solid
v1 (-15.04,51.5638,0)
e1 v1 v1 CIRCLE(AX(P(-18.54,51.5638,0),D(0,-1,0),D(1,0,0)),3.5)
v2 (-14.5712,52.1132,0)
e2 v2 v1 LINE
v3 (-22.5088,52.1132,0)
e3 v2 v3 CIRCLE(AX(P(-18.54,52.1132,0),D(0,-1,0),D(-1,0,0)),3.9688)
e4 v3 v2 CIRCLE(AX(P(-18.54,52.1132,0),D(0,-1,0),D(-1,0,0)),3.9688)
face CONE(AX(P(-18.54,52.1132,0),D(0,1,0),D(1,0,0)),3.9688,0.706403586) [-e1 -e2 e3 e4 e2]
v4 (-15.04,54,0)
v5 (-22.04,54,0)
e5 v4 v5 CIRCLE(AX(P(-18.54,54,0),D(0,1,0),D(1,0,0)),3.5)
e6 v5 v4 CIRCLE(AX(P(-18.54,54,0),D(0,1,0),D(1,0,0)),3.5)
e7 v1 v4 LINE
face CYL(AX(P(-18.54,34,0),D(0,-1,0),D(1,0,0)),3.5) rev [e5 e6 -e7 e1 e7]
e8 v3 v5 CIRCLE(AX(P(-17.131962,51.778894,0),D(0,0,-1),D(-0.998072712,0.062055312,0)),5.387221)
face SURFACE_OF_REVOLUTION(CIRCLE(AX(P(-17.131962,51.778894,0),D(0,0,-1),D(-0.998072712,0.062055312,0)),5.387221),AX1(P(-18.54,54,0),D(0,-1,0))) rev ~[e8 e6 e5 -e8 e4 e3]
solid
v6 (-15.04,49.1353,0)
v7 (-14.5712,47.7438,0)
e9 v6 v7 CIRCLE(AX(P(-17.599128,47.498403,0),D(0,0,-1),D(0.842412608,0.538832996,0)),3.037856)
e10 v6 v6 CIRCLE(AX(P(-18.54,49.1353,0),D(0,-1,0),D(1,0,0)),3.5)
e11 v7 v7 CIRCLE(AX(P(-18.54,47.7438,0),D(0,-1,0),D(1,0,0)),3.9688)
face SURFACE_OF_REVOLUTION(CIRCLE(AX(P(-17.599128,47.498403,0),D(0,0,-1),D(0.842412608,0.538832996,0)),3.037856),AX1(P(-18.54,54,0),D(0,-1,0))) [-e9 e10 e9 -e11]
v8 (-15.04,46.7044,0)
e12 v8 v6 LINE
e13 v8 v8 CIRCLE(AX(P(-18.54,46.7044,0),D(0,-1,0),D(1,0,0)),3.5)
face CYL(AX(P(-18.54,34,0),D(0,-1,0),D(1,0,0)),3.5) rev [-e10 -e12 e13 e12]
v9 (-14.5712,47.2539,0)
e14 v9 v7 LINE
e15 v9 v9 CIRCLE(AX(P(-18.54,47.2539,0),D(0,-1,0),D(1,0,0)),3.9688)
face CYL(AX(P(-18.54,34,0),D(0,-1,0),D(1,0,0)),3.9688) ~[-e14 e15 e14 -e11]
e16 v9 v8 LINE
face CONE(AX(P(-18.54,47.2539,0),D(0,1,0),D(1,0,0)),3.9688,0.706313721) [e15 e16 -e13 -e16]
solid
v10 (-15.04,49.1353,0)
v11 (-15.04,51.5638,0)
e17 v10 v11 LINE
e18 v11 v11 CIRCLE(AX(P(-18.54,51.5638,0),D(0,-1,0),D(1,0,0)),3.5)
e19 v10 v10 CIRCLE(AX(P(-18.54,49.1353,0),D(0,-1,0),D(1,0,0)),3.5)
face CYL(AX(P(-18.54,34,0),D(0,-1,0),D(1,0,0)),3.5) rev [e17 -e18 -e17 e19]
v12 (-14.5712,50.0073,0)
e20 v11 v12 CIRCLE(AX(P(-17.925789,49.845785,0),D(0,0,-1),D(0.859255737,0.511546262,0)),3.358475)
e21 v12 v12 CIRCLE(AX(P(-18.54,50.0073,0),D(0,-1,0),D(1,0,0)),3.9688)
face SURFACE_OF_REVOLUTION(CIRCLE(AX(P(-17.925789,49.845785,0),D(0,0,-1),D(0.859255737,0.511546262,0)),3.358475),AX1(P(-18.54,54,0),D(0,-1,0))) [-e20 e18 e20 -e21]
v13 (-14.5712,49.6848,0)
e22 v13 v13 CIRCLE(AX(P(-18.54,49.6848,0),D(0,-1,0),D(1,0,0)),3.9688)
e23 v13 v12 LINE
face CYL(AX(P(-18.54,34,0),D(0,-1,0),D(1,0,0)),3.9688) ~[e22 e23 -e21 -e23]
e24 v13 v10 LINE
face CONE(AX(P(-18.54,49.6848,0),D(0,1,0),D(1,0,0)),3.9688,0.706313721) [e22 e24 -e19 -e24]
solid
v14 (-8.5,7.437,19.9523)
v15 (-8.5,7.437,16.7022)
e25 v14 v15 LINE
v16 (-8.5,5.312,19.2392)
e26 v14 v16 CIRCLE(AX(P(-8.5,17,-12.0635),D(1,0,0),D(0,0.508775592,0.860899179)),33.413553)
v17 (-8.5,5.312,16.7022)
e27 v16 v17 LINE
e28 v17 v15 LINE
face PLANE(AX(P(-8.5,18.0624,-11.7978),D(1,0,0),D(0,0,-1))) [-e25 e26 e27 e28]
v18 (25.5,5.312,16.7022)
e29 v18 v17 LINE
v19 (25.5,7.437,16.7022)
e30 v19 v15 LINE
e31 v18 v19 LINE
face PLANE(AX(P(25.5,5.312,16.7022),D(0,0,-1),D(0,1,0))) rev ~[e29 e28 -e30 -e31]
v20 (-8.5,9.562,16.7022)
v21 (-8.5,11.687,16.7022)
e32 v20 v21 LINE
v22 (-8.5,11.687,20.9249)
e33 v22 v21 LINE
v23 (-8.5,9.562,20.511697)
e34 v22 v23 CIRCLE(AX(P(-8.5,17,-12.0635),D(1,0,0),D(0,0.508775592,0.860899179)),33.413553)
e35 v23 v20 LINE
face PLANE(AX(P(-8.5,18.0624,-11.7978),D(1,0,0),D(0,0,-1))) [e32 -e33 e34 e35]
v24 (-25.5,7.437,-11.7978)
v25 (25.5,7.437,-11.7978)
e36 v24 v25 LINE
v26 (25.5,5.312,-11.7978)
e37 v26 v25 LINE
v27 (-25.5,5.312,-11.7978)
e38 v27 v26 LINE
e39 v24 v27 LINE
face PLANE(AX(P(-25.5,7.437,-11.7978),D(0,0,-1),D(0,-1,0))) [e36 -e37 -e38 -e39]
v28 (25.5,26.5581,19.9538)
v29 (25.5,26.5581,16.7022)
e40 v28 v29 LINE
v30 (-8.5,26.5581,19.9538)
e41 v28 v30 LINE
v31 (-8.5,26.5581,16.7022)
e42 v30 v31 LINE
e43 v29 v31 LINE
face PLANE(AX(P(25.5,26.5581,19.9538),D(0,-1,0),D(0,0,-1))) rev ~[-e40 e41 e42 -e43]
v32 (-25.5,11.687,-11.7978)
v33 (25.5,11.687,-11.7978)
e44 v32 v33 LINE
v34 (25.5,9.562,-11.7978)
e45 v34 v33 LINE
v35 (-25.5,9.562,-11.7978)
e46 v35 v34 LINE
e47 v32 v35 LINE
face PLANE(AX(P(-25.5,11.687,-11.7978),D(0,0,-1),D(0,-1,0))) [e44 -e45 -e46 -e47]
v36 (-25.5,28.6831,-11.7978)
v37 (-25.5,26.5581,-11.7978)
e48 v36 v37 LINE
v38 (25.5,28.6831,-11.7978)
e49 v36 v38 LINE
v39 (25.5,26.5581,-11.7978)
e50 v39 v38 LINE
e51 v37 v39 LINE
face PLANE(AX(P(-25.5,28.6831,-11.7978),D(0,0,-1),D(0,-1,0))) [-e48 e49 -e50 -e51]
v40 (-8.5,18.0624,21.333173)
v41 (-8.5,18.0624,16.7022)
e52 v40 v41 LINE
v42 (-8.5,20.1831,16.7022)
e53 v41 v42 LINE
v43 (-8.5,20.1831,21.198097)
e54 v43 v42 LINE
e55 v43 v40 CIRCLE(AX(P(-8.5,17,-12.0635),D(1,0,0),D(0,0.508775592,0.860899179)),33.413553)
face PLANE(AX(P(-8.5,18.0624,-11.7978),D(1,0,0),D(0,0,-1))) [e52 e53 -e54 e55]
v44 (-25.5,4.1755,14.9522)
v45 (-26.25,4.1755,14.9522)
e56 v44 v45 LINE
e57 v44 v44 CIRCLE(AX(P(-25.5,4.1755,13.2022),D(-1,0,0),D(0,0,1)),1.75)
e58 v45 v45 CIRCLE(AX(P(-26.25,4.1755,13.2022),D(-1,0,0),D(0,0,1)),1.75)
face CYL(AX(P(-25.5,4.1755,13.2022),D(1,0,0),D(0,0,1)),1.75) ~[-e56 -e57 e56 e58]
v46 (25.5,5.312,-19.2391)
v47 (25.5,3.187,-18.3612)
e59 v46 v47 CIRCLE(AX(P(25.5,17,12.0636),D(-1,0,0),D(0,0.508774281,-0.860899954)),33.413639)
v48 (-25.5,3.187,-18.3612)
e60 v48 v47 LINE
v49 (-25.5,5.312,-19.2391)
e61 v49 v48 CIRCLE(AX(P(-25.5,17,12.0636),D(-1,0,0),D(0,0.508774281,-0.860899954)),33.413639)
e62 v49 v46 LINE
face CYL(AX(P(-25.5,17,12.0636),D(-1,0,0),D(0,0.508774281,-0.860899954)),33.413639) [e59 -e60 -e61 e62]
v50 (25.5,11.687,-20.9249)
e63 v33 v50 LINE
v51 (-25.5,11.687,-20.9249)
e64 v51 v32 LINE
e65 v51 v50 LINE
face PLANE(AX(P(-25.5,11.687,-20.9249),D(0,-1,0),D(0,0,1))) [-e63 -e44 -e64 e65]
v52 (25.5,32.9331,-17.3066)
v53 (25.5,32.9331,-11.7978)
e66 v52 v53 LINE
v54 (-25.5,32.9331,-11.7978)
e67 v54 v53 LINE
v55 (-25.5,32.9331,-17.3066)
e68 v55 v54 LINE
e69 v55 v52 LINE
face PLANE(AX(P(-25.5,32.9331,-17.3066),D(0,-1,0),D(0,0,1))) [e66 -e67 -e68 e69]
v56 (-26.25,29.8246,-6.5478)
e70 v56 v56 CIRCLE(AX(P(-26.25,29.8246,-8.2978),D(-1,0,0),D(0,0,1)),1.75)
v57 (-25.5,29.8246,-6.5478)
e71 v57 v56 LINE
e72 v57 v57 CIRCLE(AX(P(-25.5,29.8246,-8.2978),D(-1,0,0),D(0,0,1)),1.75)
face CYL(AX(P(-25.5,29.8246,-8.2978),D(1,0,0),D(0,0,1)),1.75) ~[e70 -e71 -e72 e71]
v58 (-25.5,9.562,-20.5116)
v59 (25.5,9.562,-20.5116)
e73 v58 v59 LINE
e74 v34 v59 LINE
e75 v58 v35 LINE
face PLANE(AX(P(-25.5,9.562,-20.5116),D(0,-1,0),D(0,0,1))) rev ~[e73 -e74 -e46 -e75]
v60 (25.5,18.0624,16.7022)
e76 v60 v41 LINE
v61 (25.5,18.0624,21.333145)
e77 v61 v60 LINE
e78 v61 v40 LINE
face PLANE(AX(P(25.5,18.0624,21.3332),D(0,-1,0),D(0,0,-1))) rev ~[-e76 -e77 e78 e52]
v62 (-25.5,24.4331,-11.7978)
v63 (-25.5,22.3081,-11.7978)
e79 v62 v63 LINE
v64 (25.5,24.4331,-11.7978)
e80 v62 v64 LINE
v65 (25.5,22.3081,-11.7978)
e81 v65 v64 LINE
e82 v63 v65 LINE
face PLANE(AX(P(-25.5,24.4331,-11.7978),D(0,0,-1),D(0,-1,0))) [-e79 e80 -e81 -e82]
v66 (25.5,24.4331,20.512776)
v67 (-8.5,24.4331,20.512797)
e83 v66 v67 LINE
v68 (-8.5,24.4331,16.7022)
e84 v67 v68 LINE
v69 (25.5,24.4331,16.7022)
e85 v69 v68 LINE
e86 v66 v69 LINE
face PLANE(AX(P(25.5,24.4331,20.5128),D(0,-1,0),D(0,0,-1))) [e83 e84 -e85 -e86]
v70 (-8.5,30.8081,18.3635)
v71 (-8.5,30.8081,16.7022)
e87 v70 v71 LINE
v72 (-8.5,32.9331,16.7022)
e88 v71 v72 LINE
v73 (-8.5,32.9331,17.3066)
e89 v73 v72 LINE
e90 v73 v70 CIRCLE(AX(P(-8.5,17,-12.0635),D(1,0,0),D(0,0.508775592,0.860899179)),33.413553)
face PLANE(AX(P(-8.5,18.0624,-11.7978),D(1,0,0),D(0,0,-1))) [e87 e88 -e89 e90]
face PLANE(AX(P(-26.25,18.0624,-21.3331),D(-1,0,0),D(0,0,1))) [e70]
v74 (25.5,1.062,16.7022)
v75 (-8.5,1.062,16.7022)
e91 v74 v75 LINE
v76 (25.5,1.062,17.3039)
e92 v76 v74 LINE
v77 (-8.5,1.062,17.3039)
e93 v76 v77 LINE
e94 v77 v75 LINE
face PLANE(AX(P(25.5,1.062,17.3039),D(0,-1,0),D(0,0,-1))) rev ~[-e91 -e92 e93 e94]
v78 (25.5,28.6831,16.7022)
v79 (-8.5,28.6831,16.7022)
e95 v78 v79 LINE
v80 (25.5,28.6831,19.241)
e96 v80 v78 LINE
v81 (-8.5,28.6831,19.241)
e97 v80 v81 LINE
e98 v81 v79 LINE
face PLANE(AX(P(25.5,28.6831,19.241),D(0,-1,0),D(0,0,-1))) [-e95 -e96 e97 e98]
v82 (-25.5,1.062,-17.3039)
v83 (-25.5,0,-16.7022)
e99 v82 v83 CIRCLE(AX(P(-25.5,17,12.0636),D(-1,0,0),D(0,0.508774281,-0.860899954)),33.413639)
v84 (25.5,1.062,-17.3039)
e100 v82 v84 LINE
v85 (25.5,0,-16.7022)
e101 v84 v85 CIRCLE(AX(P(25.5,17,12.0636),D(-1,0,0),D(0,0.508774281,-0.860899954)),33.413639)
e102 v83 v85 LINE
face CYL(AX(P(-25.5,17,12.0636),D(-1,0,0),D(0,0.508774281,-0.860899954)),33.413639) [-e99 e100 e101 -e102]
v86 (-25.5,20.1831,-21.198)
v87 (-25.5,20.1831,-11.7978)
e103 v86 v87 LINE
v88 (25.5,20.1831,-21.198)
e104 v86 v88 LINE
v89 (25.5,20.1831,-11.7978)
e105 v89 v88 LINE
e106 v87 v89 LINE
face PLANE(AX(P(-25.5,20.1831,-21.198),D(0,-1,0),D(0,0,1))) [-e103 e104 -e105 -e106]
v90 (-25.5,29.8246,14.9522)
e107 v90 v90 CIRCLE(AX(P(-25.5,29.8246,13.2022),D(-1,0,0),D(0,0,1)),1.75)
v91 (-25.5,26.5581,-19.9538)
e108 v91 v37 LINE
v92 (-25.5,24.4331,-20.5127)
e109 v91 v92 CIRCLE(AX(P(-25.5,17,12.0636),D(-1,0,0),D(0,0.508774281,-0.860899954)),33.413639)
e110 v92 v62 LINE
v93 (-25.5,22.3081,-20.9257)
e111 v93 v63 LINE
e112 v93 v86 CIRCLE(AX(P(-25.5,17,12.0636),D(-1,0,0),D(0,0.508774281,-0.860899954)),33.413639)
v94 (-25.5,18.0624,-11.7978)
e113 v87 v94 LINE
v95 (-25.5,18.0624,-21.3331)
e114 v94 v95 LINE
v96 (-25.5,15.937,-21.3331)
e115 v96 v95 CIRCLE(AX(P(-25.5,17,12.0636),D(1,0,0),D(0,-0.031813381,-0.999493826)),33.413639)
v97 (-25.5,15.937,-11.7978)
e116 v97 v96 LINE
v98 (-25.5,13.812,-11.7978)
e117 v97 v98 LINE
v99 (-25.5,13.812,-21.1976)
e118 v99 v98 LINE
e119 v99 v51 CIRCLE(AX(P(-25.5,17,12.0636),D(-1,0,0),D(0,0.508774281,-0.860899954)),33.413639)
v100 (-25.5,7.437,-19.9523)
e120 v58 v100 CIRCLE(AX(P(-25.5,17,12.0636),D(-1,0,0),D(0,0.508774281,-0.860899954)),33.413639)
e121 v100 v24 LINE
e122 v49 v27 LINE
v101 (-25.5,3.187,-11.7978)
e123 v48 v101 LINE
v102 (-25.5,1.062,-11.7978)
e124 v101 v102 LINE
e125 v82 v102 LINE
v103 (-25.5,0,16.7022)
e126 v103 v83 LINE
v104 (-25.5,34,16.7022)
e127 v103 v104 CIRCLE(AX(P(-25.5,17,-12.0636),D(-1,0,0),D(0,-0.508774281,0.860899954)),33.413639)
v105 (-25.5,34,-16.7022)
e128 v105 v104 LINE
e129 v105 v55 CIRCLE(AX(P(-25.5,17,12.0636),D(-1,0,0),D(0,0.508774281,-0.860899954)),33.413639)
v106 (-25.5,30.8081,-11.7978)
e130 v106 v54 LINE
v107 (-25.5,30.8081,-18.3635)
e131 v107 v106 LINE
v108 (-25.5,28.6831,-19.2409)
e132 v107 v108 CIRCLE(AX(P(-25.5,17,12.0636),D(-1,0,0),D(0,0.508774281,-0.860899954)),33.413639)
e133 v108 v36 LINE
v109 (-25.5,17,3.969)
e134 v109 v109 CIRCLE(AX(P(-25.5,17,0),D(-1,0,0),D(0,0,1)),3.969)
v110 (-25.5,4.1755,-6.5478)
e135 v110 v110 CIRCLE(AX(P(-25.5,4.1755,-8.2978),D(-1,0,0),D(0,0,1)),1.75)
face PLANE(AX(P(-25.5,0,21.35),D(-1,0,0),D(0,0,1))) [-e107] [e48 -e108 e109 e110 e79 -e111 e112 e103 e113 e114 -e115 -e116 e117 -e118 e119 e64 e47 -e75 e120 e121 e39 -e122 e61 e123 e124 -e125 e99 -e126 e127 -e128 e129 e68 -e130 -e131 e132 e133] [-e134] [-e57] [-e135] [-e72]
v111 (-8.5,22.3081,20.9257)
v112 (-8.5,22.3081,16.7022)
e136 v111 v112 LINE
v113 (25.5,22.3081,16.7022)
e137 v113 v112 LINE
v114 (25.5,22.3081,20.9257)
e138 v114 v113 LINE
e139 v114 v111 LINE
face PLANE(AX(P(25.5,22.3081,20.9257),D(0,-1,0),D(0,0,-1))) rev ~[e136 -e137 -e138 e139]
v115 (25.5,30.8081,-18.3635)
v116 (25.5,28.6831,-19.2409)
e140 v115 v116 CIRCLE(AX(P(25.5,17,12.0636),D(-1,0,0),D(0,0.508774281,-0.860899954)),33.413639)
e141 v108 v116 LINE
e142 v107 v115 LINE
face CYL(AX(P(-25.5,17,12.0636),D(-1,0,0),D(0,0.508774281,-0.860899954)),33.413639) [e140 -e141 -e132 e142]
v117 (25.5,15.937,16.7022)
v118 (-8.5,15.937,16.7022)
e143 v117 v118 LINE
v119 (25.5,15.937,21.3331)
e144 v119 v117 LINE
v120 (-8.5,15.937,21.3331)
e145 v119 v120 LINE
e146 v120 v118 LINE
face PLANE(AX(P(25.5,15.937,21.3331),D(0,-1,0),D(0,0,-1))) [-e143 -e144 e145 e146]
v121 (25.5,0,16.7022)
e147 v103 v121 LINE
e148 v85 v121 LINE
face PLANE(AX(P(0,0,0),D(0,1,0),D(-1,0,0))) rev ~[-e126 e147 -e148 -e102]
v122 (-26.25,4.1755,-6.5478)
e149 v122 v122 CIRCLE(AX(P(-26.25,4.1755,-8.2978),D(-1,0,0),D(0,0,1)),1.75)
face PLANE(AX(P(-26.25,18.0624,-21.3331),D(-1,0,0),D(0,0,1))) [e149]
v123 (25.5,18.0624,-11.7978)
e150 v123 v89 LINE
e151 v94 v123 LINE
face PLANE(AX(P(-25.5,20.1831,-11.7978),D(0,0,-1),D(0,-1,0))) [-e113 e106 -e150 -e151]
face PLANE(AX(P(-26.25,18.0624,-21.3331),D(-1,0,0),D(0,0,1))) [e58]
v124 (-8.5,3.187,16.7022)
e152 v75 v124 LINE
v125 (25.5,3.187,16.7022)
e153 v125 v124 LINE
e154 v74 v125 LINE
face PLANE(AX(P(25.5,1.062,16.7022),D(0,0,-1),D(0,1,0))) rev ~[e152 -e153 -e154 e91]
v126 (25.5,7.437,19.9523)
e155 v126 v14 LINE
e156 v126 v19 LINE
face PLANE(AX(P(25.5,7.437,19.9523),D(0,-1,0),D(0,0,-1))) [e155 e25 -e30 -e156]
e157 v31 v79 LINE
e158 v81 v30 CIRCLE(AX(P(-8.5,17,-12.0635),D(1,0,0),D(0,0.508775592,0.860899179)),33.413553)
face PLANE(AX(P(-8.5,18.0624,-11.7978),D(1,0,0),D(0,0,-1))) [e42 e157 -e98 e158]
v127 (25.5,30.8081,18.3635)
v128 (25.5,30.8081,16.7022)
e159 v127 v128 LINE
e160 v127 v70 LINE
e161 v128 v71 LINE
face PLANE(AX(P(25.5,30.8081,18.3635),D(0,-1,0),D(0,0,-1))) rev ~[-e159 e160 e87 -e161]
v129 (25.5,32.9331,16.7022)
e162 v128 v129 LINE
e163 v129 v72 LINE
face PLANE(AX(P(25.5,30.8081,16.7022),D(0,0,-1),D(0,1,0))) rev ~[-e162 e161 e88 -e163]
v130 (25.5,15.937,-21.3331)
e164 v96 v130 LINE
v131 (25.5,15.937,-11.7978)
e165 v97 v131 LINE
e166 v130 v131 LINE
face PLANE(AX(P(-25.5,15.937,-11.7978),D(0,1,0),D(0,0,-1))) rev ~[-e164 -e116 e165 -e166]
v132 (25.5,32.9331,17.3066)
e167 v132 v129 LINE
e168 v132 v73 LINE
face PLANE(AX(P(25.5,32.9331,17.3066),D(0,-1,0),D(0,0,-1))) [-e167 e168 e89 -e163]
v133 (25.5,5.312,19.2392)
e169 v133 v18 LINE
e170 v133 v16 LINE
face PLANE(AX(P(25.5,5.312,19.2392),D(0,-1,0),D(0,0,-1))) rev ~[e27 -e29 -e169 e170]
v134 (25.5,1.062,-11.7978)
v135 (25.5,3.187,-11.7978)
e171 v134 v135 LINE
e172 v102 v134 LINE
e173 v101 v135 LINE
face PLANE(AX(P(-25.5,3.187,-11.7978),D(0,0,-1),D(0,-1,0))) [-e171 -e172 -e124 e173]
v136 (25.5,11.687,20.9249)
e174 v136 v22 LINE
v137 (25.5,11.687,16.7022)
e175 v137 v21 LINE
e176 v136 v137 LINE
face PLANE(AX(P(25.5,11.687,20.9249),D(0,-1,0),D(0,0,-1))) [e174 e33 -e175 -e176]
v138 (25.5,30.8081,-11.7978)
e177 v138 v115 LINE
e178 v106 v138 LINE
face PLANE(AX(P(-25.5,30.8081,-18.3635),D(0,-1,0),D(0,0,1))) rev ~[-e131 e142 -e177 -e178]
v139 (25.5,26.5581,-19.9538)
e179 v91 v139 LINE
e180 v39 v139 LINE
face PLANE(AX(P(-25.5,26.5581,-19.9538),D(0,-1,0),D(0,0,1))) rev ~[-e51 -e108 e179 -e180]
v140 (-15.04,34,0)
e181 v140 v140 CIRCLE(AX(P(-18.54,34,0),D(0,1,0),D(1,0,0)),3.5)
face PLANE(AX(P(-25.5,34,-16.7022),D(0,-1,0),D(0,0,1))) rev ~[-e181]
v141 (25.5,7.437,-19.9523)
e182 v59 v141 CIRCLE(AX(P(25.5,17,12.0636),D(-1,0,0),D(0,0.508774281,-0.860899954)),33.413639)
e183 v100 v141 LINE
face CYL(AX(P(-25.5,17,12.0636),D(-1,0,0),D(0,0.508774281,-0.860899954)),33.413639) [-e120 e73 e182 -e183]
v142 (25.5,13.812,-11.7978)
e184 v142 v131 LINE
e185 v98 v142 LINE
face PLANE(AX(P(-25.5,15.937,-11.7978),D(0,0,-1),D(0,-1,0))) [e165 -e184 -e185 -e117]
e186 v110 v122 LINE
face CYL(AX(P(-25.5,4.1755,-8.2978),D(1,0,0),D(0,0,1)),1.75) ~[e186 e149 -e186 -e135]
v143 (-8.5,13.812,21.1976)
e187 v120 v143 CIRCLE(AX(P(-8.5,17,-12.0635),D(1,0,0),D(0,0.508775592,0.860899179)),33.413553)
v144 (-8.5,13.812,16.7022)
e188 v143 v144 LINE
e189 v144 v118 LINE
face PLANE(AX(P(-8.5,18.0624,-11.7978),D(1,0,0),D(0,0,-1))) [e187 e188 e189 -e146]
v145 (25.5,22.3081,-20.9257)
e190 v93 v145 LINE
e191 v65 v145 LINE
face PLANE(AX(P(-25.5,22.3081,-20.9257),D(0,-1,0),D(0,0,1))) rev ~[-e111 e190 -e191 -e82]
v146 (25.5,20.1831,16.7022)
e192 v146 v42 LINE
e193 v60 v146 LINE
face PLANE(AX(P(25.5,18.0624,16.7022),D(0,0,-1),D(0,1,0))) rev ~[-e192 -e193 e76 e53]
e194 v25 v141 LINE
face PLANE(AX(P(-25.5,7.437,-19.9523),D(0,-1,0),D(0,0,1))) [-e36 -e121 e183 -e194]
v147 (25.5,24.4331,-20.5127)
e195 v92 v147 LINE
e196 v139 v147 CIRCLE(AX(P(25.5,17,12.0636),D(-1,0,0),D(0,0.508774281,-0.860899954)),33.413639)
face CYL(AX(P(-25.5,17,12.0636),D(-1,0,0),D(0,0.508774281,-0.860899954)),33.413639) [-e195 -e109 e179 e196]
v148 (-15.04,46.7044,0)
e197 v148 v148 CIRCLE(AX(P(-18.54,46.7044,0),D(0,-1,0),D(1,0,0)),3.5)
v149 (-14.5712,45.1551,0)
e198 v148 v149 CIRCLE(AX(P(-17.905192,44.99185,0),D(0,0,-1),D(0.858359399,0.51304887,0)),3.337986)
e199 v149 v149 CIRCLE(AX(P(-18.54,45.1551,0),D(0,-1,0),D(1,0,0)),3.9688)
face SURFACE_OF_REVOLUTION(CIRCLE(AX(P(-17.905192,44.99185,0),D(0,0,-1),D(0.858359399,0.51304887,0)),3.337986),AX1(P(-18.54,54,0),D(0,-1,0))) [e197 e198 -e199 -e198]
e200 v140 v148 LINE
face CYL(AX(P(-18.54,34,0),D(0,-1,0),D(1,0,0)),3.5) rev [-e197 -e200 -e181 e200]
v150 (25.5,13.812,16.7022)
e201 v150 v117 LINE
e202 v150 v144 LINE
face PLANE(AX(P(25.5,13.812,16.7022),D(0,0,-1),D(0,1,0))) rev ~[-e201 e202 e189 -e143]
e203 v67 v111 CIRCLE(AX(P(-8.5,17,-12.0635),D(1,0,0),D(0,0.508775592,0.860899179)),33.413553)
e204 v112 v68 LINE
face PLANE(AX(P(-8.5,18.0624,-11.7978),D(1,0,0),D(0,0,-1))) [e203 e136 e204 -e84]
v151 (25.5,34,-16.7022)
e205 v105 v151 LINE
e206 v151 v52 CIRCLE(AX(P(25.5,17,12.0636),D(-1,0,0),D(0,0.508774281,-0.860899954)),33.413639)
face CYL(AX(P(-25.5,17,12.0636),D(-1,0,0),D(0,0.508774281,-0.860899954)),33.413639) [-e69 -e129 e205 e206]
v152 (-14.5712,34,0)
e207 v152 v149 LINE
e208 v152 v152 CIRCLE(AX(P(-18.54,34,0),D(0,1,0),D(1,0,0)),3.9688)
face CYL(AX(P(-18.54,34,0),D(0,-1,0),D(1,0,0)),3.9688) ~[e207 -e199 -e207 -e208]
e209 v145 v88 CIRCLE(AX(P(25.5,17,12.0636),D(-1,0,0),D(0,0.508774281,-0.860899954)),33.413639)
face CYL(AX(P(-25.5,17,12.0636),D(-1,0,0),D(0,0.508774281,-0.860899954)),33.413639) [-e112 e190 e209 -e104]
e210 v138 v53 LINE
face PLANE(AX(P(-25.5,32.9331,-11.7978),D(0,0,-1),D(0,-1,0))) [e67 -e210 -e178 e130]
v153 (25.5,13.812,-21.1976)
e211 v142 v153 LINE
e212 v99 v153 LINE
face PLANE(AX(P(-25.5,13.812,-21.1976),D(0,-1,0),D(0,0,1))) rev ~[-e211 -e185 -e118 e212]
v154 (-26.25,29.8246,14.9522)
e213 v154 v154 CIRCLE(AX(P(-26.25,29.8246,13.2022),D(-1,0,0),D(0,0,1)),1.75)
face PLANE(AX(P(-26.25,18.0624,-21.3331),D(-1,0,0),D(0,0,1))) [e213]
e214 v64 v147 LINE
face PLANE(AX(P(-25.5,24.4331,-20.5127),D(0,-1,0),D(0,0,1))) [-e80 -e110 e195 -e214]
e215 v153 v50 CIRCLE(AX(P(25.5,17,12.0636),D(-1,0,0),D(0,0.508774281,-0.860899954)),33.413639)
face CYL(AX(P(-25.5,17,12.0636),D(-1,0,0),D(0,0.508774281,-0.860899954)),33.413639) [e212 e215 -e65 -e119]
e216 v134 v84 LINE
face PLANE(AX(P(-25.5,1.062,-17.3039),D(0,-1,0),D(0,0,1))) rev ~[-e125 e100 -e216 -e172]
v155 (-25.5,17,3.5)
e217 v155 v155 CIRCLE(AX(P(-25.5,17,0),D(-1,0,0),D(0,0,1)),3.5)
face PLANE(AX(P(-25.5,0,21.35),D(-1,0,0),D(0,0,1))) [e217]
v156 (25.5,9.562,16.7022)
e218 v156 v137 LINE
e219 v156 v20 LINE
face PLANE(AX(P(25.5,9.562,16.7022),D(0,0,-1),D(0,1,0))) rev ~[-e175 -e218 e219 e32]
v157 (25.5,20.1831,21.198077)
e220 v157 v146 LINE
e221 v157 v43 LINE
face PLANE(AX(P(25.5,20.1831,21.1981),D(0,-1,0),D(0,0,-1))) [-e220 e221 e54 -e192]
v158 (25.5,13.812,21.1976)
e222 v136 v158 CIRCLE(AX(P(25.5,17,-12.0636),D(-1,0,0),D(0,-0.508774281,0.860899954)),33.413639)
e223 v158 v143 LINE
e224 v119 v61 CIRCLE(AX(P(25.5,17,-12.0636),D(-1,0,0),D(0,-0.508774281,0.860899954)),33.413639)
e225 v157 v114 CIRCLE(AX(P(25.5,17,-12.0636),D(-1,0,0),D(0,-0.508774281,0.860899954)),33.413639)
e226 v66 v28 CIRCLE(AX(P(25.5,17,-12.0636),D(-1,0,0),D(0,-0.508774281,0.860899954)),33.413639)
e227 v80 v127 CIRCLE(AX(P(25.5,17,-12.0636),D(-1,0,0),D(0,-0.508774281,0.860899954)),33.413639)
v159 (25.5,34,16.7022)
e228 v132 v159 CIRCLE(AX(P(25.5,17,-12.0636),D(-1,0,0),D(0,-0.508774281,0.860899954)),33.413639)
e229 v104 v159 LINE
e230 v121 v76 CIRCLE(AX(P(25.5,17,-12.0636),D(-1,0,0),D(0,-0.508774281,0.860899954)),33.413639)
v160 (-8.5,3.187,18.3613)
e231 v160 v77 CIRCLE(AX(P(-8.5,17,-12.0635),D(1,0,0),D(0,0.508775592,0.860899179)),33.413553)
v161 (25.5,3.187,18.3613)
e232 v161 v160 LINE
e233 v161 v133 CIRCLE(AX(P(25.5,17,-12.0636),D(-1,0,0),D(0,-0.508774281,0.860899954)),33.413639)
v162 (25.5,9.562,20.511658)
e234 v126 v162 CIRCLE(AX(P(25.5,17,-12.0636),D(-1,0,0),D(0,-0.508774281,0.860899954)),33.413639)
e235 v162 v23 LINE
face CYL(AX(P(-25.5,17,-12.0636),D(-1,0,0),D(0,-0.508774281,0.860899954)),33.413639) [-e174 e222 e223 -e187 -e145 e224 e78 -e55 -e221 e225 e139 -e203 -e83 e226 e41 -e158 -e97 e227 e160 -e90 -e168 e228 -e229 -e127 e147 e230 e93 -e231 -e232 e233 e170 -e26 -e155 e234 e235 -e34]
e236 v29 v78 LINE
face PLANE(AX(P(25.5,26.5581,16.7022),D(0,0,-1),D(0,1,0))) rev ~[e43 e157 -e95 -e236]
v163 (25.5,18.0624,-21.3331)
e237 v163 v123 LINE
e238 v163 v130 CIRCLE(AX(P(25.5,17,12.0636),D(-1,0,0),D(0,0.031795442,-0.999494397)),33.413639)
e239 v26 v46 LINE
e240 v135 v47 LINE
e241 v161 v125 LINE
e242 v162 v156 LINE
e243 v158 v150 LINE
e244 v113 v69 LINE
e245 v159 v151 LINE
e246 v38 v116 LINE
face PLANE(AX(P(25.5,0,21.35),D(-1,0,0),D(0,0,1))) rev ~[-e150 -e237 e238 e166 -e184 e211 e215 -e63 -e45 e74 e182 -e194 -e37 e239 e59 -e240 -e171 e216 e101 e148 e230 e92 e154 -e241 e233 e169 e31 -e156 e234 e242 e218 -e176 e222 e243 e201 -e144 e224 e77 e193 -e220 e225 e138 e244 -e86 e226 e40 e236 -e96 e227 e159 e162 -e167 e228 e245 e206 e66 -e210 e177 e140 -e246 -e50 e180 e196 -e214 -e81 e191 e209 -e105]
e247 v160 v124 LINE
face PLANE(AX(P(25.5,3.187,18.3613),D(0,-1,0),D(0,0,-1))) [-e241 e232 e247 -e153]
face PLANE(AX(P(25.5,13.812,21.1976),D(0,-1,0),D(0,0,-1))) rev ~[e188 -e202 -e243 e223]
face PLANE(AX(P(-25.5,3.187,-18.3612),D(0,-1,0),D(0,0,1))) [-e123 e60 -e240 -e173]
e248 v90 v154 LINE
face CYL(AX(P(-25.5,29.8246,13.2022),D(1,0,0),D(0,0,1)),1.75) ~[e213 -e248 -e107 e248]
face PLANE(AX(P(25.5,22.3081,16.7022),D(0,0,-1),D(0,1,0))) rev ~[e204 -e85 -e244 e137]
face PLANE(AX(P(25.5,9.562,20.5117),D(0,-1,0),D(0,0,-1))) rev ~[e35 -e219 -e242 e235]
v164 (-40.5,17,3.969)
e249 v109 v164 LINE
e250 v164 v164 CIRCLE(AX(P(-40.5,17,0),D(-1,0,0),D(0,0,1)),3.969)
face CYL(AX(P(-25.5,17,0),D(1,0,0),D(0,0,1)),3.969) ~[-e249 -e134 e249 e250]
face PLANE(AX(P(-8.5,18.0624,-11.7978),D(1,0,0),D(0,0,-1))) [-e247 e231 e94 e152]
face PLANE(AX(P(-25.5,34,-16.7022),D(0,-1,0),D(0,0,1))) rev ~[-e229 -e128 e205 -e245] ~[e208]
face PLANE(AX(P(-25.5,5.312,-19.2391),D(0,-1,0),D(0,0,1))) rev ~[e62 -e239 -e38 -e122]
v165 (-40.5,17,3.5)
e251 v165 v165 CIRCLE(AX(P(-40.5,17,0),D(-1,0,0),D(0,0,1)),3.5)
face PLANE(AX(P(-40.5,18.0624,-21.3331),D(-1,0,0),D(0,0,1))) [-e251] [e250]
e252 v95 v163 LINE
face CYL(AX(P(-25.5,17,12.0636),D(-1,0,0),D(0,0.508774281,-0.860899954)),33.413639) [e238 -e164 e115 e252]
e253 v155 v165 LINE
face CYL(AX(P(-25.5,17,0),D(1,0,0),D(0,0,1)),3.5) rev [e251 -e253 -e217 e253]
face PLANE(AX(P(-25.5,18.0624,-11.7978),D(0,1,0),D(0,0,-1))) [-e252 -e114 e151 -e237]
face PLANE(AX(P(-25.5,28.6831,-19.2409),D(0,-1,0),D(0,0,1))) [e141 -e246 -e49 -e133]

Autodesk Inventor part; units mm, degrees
ref_plane "YZ Plane" through (0, 0, 0) normal (1, 0, 0) x (0, 1, 0)
ref_plane "XZ Plane" through (0, 0, 0) normal (0, 1, 0) x (-1, 0, 0)
sketch "Sketch1" plane through (0, 0, 0) normal (0, 1, 0) x (-1, 0, 0)
  line L0 (25.5, -21.35) -> (-25.5, -21.35)
  line L1 (-25.5, -21.35) -> (-25.5, 21.35)
  line L2 (-25.5, 21.35) -> (25.5, 21.35)
  line L3 (25.5, 21.35) -> (25.5, -21.35)
  line L4 (25.5, -21.35) -> (-25.5, 21.35) construction
  line L5 (-25.5, -21.35) -> (25.5, 21.35) construction
  point P0 (0, 0)
  dimension "d0" = 51
  dimension "d1" = 42.7
extrude "Extrusion1" add sketch "Sketch1" along normal blind 34
sketch "Sketch2" plane through (-25.5, 0, -21.35) normal (-1, 0, 0) x (0, 0, 1)
  line L0 (42.7, 0) -> (0, 0) projected
  line L1 (42.7, 0) -> (42.7, 34) projected
  line L2 (0, 34) -> (42.7, 34) projected
  line L3 (0, 0) -> (0, 34) projected
  arc A0 (38.0522, 0) -> (38.0522, 34) centre (9.2864, 17) ccw
  line L4 (0, 34) -> (42.7, 34) construction
  line L5 (21.35, 34) -> (21.35, 0) construction
  arc A1 (4.6478, 34) -> (4.6478, 0) centre (33.4136, 17) ccw
  line L6 (0, 17) -> (42.7, 17) construction
  line L7 (42.7, 0) -> (0, 0) construction
  line L8 (9.5522, 34) -> (9.5522, 0) construction
  line L9 (9.5522, 34) -> (9.5522, 0)
  line L10 (0, 0) -> (0, 34) construction
  line L11 (0.0169, 18.0624) -> (9.5522, 18.0624) construction
  line L12 (9.5522, 15.937) -> (0, 15.937) construction
  line L13 (9.5522, 18.0624) -> (0.0169, 18.0624)
  line L14 (9.5522, 15.937) -> (0.0169, 15.937)
  line L15 (0.152, 20.1831) -> (9.5522, 20.1831)
  line L16 (0.4243, 22.3081) -> (9.5522, 22.3081)
  line L17 (0.8373, 24.4331) -> (9.5522, 24.4331)
  line L18 (1.3962, 26.5581) -> (9.5522, 26.5581)
  line L19 (2.1091, 28.6831) -> (9.5522, 28.6831)
  line L20 (2.9865, 30.8081) -> (9.5522, 30.8081)
  line L21 (4.0434, 32.9331) -> (9.5522, 32.9331)
  line L22 (0.1524, 13.812) -> (9.5522, 13.812)
  line L23 (0.4251, 11.687) -> (9.5522, 11.687)
  line L24 (0.8384, 9.562) -> (9.5522, 9.562)
  line L25 (1.3977, 7.437) -> (9.5522, 7.437)
  line L26 (2.1109, 5.312) -> (9.5522, 5.312)
  line L27 (2.9888, 3.187) -> (9.5522, 3.187)
  line L28 (4.0461, 1.062) -> (9.5522, 1.062)
  line L29 (9.5522, 34) -> (0, 34)
  line L30 (0, 34) -> (0, 0)
  line L31 (0, 0) -> (4.6478, 0)
  line L32 (42.7, 0) -> (42.7, 34) projected
  line L33 (42.7, 0) -> (42.7, 34)
  line L34 (42.7, 34) -> (9.5522, 34)
  line L35 (42.7, 0) -> (0, 0)
  line L36 (4.6478, 34) -> (4.0434, 32.9331)
  dimension "d4" = 28.5
  dimension "d5" = 1.0625
  dimension "d6" = 1.063
  dimension "d7" = 2.125
  dimension "d8" = 2.125
  dimension "d9" = 2.125
  dimension "d10" = 2.125
  dimension "d11" = 2.125
  dimension "d12" = 2.125
  dimension "d13" = 2.125
  dimension "d14" = 2.125
  dimension "d15" = 2.125
  dimension "d16" = 2.125
  dimension "d17" = 2.125
  dimension "d18" = 2.125
  dimension "d19" = 2.125
  dimension "d20" = 2.125
  dimension "d21" = 1.062
  dimension "d22" = 1.0669
extrude "Extrusion2" cut sketch "Sketch2" against normal through all contours L0 L3 A1 | L28 A1 L27 L9 | L9 L21 L36 L2 | A1 L3 L2 | L9 L20 A1 L21 | L26 A1 L25 L9 | A1 L15 L9 L13 | L14 L9 L22 A1 | L9 L18 A1 L19 | L24 A1 L23 L9 | A1 L17 L9 L16
sketch "Sketch3" plane through (-25.5, 0, 21.35) normal (-1, 0, 0) x (0, 0, 1)
  line L0 (-38.6566, 32.9331) -> (-33.1478, 32.9331)
  line L1 (-33.1478, 34) -> (-33.1478, 30.8081) projected
  line L2 (0, 34) -> (-33.1478, 34) projected
  line L3 (-38.0522, 34) -> (-33.1478, 34)
  line L4 (-33.1478, 34) -> (-33.1478, 32.9331)
  arc A0 (-38.0522, 34) -> (-38.6566, 32.9331) centre (-9.2864, 17) ccw projected
  line L5 (-38.0522, 34) -> (-38.0522, 34)
  line L6 (-38.0522, 34) -> (-38.6566, 32.9331)
  point P0 (-21.35, 0)
extrude "Extrusion3" add sketch "Sketch3" against normal blind 51 contours L6 L3 L1 L0
sketch "Sketch4" plane through (-25.5, 0, 21.35) normal (0, 0, 1) x (1, 0, 0)
  line L0 (51, 34) -> (0, 34) projected
  line L1 (17, 34) -> (17, 0)
  line L2 (0, 0) -> (51, 0) projected
  line L3 (0, 30.8081) -> (51, 30.8081) projected
  line L4 (0, 28.6831) -> (51, 28.6831) projected
  line L5 (0, 26.5581) -> (51, 26.5581) projected
  line L6 (0, 24.4331) -> (51, 24.4331) projected
  line L7 (0, 22.3081) -> (51, 22.3081) projected
  line L8 (0, 20.1831) -> (51, 20.1831) projected
  line L9 (0, 18.0624) -> (51, 18.0624) projected
  line L10 (51, 15.937) -> (0, 15.937) projected
  line L11 (51, 0) -> (0, 0) projected
  line L12 (51, 0) -> (51, 34) projected
  line L13 (0, 34) -> (51, 34) projected
  line L14 (0, 0) -> (0, 34) projected
  line L15 (0, 13.812) -> (51, 13.812) projected
  line L16 (0, 11.687) -> (51, 11.687) projected
  line L17 (0, 9.562) -> (51, 9.562) projected
  line L18 (0, 7.437) -> (51, 7.437) projected
  line L19 (0, 5.312) -> (51, 5.312) projected
  line L20 (0, 3.187) -> (51, 3.187) projected
  line L21 (0, 1.062) -> (51, 1.062) projected
  line L22 (0, 32.9331) -> (51, 32.9331) projected
  line L23 (17, 34) -> (51, 34)
  line L24 (51, 34) -> (51, 0)
  line L25 (51, 1.062) -> (51, 3.187) projected
  line L26 (51, 0) -> (51, 1.062) projected
  line L27 (51, 0) -> (17, 0)
  line L28 (17, 1.062) -> (51, 1.062)
  line L29 (51, 3.187) -> (51, 5.312) projected
  line L30 (51, 3.187) -> (17, 3.187)
  line L31 (17, 5.312) -> (51, 5.312)
  line L32 (51, 5.312) -> (51, 7.437)
  line L33 (51, 7.437) -> (17, 7.437)
  line L34 (51, 7.437) -> (51, 9.562) projected
  line L35 (17, 9.562) -> (51, 9.562)
  line L36 (51, 9.562) -> (51, 11.687)
  line L37 (51, 11.687) -> (51, 13.812) projected
  line L38 (17, 11.687) -> (51, 11.687)
  line L39 (51, 11.687) -> (51, 13.812)
  line L40 (51, 13.812) -> (17, 13.812)
  line L41 (0, 13.812) -> (51, 13.812) projected
  line L42 (0, 15.937) -> (51, 15.937) projected
  line L43 (51, 15.937) -> (51, 18.0624) projected
  line L44 (17, 15.937) -> (51, 15.937)
  line L45 (51, 15.937) -> (51, 18.0624)
  line L46 (51, 18.0624) -> (17, 18.0624)
  line L47 (17, 20.1831) -> (51, 20.1831)
  line L48 (51, 22.3081) -> (17, 22.3081)
  line L49 (17, 24.4331) -> (51, 24.4331)
  line L50 (51, 26.5581) -> (17, 26.5581)
  line L51 (0, 26.5581) -> (51, 26.5581) projected
  line L52 (51, 28.6831) -> (51, 30.8081) projected
  line L53 (17, 28.6831) -> (51, 28.6831)
  line L54 (51, 28.6831) -> (51, 30.8081)
  line L55 (51, 30.8081) -> (17, 30.8081)
  line L56 (51, 30.8081) -> (51, 32.9331) projected
  line L57 (17, 32.9331) -> (51, 32.9331)
  point P0 (25.5, 0)
  dimension "d27" = 17
extrude "Extrusion4" cut sketch "Sketch2" against normal blind 51 contours L0 A0 L1 | A0 L2 L1
sketch "Sketch5" plane through (25.5, 18.0624, -11.7978) normal (1, 0, 0) x (0, 0, -1)
  arc A0 (-28.5, 15.9376) -> (-28.5, -18.0624) centre (0.2657, -1.0624) ccw projected
  line L0 (-28.5, -18.0624) -> (-28.5, 15.9376)
  line L1 (-33.1478, -18.0624) -> (-33.1478, 15.9376) projected
  line L2 (-29.1017, -17.0004) -> (-28.5, -17.0004)
  line L3 (-30.1591, -14.8754) -> (-28.5, -14.8754)
  line L4 (-31.037, -12.7504) -> (-28.5, -12.7504)
  line L5 (-31.7501, -10.6254) -> (-28.5, -10.6254)
  line L6 (-32.3095, -8.5004) -> (-28.5, -8.5004)
  line L7 (-32.7227, -6.3754) -> (-28.5, -6.3754)
  line L8 (-32.9954, -4.2504) -> (-28.5, -4.2504)
  line L9 (-33.1309, -2.1254) -> (-28.5, -2.1254)
  line L10 (-33.131, 0) -> (-28.5, 0)
  line L11 (-32.9959, 2.1207) -> (-28.5, 2.1207)
  line L12 (-32.7235, 4.2457) -> (-28.5, 4.2457)
  line L13 (-32.3106, 6.3707) -> (-28.5, 6.3707)
  line L14 (-31.7516, 8.4957) -> (-28.5, 8.4957)
  line L15 (-31.0388, 10.6207) -> (-28.5, 10.6207)
  line L16 (-30.1613, 12.7457) -> (-28.5, 12.7457)
  line L17 (-29.1044, 14.8707) -> (-28.5, 14.8707)
  line L18 (-33.131, 0) -> (-28.5, 0)
  line L19 (-33.131, 0) -> (-28.5, 0)
  point P0 (-11.7978, -18.0624)
  point P1 (-33.1478, -12.7504)
  point P2 (-33.1478, -10.6254)
  point P3 (-33.1478, -8.5004)
  point P4 (-33.1478, -6.3754)
  point P5 (-33.1478, -4.2504)
  point P6 (-33.1478, -2.1254)
  point P7 (-33.1478, 0)
  point P8 (-33.1478, 2.1207)
  point P9 (-33.1478, 4.2457)
  point P10 (-33.1478, 6.3707)
  point P11 (-33.1478, 8.4957)
  point P12 (-33.1478, 10.6207)
  point P13 (-33.1478, 12.7457)
  point P14 (-33.1478, 14.8707)
  point P15 (-33.1478, -14.8754)
  point P16 (-33.1478, -17.0004)
extrude "Extrusion5" cut sketch "Sketch5" against normal blind 34 contours L17 L0 L16 A0 | L15 L0 L14 A0 | L13 L0 L12 A0 | L11 L0 L10 A0 | L0 L8 A0 L9 | L0 L6 A0 L7 | L0 L4 A0 L5 | L0 L2 A0 L3
sketch "Sketch6" plane through (0, 34, 0) normal (0, 1, 0) x (1, 0, 0)
  line L0 (-25.5, 16.7022) -> (25.5, 16.7022) construction
  line L1 (-18.54, 16.7022) -> (-18.54, -16.7022) construction
  line L2 (25.5, -16.7022) -> (-25.5, -16.7022) construction
  line L3 (-25.5, 16.7022) -> (-25.5, -16.7022) construction
  circle A0 centre (-18.54, 0) radius 3.9688 construction
  circle A1 centre (-18.54, 0) radius 5.5563 construction
  circle A2 centre (-18.54, 0) radius 3.5 construction
  circle A3 centre (-18.54, 0) radius 3.5
  circle A4 centre (-18.54, 0) radius 3.9688
  point P0 (0, 0)
  dimension "d32" = 6.96
  dimension "d33" = 7.9375
  dimension "d34" = 11.1125
  dimension "d35" = 7
extrude "Extrusion6" add sketch "Sketch6" along normal blind 20
ref_plane "Work Plane3" through (-18.54, 34, 0) normal (0, 0, -1) x (-1, 0, 0)
ref_plane "Work Plane1" through (-18.54, 34, 3.9688) normal (0, 0, -1) x (-1, 0, 0)
ref_plane "Work Plane2" through (-18.54, 34, -3.9688) normal (0, 0, -1) x (-1, 0, 0)
sketch "Sketch7" plane through (-18.54, 34, 0) normal (0, 0, -1) x (-1, 0, 0)
  line L0 (3.9688, 20) -> (-3.9688, 20) projected
  line L1 (-3.9688, 0) -> (3.9688, 0) projected
  line L2 (3.9688, 20) -> (-3.9688, 20) projected
  line L3 (-3.9688, 0) -> (3.9688, 0) projected
  line L4 (3.9688, 20) -> (-3.9688, 20) projected
  line L5 (3.5, 0) -> (3.5, 20) projected
  line L6 (3.5, 17.4442) -> (3.9688, 17.4442)
  arc A0 (3.9688, 18.1132) -> (3.5, 20) centre (-1.4093, 17.7787) ccw
  line L7 (3.9688, 0) -> (3.9688, 20) projected
  line L8 (3.9688, 18.1132) -> (3.5, 17.4442)
  line L9 (3.9688, 17.4442) -> (2.7369, 17.4442) construction
  arc A1 (3.9688, 15.5575) -> (3.5, 17.4442) centre (-1.4093, 15.2229) ccw
  line L10 (3.9688, 15.5575) -> (3.5, 14.8884)
  arc A2 (3.9688, 13.0017) -> (3.5, 14.8884) centre (-1.4093, 12.6671) ccw
  line L11 (3.9688, 13.0017) -> (3.5, 12.3326)
  arc A3 (3.9688, 10.4459) -> (3.5, 12.3326) centre (-1.4093, 10.1113) ccw
  line L12 (3.9688, 10.4459) -> (3.5, 9.7768)
  line L13 (3.5, 20) -> (3.5, 9.7768) construction
  line L14 (0, 20) -> (0, 0) construction
  point P0 (-18.54, -34)
  dimension "d38" = 2.5558
  dimension "d39" = 0
  dimension "d40" = 0
  dimension "d41" = 0
revolve "Revolution1" cut sketch "Sketch7" angle 360 about axis through (-18.54, 54, 0) along (0, -1, 0) contours L7 A0 L0
sketch "Sketch8" plane through (-18.54, 34, 0) normal (0, 0, -1) x (-1, 0, 0)
  line L0 (-3.9688, 18.1132) -> (3.9688, 18.1132) projected
  line L1 (-3.9688, 18.1132) -> (-3.5, 17.5638)
  line L2 (-3.5, 0) -> (-3.5, 20) projected
  line L3 (-3.9688, 0) -> (-3.9688, 18.1132) projected
  arc A0 (-3.5, 17.5638) -> (-3.9688, 16.0073) centre (-0.6147, 15.846) ccw
  line L4 (-3.9688, 15.6848) -> (-3.5, 15.1353)
  arc A1 (-3.5, 15.1353) -> (-3.9688, 13.7438) centre (-0.9417, 13.4988) ccw
  line L5 (-3.9688, 13.2539) -> (-3.5, 12.7044)
  arc A2 (-3.5, 12.7044) -> (-3.9688, 11.1551) centre (-0.6356, 10.9922) ccw
  line L6 (-3.9688, 10.8293) -> (-3.5, 10.2798)
  line L7 (-3.5, 20) -> (3.5, 20) construction
  line L8 (0, 20) -> (0, 6.8356) construction
  point P0 (-18.54, -34)
revolve "Revolution2" cut sketch "Sketch8" angle 360 about axis through (-18.54, 54, 0) along (0, -1, 0) contours L1 A0 L3 | A1 L3 L4 | A2 L3 L5
sketch "Sketch9" plane through (-25.5, 18.0624, -21.3331) normal (-1, 0, 0) x (0, 0, 1)
  line L0 (9.5353, 14.8707) -> (4.0266, 14.8707) construction
  line L1 (9.5353, 14.8707) -> (9.5353, 15.9376) construction
  line L2 (4.631, 15.9376) -> (38.0353, 15.9376) construction
  line L3 (9.5353, 15.9376) -> (38.0353, -18.0624) construction
  line L4 (38.0353, -18.0624) -> (38.0353, 15.9376) construction
  line L5 (38.0353, 14.8707) -> (38.0353, 12.7457) construction
  line L6 (38.0353, 15.9376) -> (9.5353, -18.0624) construction
  line L7 (38.0353, -18.0624) -> (4.631, -18.0624) construction
  circle A0 centre (21.3331, -1.0624) radius 3.5 construction
  circle A1 centre (21.3331, -1.0624) radius 3.969 construction
  circle A2 centre (21.3331, -1.0624) radius 3.5
  circle A3 centre (21.3331, -1.0624) radius 3.969
  point P0 (21.3331, -18.0624)
  dimension "d44" = 7
  dimension "d45" = 7.938
extrude "Extrusion7" add sketch "Sketch9" along normal blind 15
sketch "Sketch10" plane through (-25.5, 18.0624, -21.3331) normal (-1, 0, 0) x (0, 0, 1)
  line L0 (9.5353, 14.8707) -> (4.0266, 14.8707) construction
  line L1 (9.5353, 14.8707) -> (9.5353, 15.9376) construction
  line L2 (4.631, 15.9376) -> (38.0353, 15.9376) construction
  line L3 (9.5353, 15.9376) -> (38.0353, -18.0624) construction
  line L4 (38.0353, -18.0624) -> (38.0353, 15.9376) construction
  line L5 (38.0353, 15.9376) -> (9.5353, -18.0624) construction
  line L6 (13.0353, 15.9376) -> (13.0353, -18.0624) construction
  line L7 (34.5353, 15.9376) -> (34.5353, -18.0624) construction
  circle A0 centre (13.0353, 11.7622) radius 1.75
  circle A1 centre (34.5353, 11.7622) radius 1.75
  circle A2 centre (34.5353, -13.8869) radius 1.75
  circle A3 centre (13.0353, -13.8869) radius 1.75
  point P0 (21.3331, -18.0624)
  dimension "d48" = 3.5
  dimension "d49" = 3.5
  dimension "d50" = 3.5
  dimension "d51" = 3.5
  dimension "d52" = 3.5
  dimension "d53" = 3.5
extrude "Extrusion8" add sketch "Sketch10" along normal blind 0.75
properties part number "To Much Work, Motor"
